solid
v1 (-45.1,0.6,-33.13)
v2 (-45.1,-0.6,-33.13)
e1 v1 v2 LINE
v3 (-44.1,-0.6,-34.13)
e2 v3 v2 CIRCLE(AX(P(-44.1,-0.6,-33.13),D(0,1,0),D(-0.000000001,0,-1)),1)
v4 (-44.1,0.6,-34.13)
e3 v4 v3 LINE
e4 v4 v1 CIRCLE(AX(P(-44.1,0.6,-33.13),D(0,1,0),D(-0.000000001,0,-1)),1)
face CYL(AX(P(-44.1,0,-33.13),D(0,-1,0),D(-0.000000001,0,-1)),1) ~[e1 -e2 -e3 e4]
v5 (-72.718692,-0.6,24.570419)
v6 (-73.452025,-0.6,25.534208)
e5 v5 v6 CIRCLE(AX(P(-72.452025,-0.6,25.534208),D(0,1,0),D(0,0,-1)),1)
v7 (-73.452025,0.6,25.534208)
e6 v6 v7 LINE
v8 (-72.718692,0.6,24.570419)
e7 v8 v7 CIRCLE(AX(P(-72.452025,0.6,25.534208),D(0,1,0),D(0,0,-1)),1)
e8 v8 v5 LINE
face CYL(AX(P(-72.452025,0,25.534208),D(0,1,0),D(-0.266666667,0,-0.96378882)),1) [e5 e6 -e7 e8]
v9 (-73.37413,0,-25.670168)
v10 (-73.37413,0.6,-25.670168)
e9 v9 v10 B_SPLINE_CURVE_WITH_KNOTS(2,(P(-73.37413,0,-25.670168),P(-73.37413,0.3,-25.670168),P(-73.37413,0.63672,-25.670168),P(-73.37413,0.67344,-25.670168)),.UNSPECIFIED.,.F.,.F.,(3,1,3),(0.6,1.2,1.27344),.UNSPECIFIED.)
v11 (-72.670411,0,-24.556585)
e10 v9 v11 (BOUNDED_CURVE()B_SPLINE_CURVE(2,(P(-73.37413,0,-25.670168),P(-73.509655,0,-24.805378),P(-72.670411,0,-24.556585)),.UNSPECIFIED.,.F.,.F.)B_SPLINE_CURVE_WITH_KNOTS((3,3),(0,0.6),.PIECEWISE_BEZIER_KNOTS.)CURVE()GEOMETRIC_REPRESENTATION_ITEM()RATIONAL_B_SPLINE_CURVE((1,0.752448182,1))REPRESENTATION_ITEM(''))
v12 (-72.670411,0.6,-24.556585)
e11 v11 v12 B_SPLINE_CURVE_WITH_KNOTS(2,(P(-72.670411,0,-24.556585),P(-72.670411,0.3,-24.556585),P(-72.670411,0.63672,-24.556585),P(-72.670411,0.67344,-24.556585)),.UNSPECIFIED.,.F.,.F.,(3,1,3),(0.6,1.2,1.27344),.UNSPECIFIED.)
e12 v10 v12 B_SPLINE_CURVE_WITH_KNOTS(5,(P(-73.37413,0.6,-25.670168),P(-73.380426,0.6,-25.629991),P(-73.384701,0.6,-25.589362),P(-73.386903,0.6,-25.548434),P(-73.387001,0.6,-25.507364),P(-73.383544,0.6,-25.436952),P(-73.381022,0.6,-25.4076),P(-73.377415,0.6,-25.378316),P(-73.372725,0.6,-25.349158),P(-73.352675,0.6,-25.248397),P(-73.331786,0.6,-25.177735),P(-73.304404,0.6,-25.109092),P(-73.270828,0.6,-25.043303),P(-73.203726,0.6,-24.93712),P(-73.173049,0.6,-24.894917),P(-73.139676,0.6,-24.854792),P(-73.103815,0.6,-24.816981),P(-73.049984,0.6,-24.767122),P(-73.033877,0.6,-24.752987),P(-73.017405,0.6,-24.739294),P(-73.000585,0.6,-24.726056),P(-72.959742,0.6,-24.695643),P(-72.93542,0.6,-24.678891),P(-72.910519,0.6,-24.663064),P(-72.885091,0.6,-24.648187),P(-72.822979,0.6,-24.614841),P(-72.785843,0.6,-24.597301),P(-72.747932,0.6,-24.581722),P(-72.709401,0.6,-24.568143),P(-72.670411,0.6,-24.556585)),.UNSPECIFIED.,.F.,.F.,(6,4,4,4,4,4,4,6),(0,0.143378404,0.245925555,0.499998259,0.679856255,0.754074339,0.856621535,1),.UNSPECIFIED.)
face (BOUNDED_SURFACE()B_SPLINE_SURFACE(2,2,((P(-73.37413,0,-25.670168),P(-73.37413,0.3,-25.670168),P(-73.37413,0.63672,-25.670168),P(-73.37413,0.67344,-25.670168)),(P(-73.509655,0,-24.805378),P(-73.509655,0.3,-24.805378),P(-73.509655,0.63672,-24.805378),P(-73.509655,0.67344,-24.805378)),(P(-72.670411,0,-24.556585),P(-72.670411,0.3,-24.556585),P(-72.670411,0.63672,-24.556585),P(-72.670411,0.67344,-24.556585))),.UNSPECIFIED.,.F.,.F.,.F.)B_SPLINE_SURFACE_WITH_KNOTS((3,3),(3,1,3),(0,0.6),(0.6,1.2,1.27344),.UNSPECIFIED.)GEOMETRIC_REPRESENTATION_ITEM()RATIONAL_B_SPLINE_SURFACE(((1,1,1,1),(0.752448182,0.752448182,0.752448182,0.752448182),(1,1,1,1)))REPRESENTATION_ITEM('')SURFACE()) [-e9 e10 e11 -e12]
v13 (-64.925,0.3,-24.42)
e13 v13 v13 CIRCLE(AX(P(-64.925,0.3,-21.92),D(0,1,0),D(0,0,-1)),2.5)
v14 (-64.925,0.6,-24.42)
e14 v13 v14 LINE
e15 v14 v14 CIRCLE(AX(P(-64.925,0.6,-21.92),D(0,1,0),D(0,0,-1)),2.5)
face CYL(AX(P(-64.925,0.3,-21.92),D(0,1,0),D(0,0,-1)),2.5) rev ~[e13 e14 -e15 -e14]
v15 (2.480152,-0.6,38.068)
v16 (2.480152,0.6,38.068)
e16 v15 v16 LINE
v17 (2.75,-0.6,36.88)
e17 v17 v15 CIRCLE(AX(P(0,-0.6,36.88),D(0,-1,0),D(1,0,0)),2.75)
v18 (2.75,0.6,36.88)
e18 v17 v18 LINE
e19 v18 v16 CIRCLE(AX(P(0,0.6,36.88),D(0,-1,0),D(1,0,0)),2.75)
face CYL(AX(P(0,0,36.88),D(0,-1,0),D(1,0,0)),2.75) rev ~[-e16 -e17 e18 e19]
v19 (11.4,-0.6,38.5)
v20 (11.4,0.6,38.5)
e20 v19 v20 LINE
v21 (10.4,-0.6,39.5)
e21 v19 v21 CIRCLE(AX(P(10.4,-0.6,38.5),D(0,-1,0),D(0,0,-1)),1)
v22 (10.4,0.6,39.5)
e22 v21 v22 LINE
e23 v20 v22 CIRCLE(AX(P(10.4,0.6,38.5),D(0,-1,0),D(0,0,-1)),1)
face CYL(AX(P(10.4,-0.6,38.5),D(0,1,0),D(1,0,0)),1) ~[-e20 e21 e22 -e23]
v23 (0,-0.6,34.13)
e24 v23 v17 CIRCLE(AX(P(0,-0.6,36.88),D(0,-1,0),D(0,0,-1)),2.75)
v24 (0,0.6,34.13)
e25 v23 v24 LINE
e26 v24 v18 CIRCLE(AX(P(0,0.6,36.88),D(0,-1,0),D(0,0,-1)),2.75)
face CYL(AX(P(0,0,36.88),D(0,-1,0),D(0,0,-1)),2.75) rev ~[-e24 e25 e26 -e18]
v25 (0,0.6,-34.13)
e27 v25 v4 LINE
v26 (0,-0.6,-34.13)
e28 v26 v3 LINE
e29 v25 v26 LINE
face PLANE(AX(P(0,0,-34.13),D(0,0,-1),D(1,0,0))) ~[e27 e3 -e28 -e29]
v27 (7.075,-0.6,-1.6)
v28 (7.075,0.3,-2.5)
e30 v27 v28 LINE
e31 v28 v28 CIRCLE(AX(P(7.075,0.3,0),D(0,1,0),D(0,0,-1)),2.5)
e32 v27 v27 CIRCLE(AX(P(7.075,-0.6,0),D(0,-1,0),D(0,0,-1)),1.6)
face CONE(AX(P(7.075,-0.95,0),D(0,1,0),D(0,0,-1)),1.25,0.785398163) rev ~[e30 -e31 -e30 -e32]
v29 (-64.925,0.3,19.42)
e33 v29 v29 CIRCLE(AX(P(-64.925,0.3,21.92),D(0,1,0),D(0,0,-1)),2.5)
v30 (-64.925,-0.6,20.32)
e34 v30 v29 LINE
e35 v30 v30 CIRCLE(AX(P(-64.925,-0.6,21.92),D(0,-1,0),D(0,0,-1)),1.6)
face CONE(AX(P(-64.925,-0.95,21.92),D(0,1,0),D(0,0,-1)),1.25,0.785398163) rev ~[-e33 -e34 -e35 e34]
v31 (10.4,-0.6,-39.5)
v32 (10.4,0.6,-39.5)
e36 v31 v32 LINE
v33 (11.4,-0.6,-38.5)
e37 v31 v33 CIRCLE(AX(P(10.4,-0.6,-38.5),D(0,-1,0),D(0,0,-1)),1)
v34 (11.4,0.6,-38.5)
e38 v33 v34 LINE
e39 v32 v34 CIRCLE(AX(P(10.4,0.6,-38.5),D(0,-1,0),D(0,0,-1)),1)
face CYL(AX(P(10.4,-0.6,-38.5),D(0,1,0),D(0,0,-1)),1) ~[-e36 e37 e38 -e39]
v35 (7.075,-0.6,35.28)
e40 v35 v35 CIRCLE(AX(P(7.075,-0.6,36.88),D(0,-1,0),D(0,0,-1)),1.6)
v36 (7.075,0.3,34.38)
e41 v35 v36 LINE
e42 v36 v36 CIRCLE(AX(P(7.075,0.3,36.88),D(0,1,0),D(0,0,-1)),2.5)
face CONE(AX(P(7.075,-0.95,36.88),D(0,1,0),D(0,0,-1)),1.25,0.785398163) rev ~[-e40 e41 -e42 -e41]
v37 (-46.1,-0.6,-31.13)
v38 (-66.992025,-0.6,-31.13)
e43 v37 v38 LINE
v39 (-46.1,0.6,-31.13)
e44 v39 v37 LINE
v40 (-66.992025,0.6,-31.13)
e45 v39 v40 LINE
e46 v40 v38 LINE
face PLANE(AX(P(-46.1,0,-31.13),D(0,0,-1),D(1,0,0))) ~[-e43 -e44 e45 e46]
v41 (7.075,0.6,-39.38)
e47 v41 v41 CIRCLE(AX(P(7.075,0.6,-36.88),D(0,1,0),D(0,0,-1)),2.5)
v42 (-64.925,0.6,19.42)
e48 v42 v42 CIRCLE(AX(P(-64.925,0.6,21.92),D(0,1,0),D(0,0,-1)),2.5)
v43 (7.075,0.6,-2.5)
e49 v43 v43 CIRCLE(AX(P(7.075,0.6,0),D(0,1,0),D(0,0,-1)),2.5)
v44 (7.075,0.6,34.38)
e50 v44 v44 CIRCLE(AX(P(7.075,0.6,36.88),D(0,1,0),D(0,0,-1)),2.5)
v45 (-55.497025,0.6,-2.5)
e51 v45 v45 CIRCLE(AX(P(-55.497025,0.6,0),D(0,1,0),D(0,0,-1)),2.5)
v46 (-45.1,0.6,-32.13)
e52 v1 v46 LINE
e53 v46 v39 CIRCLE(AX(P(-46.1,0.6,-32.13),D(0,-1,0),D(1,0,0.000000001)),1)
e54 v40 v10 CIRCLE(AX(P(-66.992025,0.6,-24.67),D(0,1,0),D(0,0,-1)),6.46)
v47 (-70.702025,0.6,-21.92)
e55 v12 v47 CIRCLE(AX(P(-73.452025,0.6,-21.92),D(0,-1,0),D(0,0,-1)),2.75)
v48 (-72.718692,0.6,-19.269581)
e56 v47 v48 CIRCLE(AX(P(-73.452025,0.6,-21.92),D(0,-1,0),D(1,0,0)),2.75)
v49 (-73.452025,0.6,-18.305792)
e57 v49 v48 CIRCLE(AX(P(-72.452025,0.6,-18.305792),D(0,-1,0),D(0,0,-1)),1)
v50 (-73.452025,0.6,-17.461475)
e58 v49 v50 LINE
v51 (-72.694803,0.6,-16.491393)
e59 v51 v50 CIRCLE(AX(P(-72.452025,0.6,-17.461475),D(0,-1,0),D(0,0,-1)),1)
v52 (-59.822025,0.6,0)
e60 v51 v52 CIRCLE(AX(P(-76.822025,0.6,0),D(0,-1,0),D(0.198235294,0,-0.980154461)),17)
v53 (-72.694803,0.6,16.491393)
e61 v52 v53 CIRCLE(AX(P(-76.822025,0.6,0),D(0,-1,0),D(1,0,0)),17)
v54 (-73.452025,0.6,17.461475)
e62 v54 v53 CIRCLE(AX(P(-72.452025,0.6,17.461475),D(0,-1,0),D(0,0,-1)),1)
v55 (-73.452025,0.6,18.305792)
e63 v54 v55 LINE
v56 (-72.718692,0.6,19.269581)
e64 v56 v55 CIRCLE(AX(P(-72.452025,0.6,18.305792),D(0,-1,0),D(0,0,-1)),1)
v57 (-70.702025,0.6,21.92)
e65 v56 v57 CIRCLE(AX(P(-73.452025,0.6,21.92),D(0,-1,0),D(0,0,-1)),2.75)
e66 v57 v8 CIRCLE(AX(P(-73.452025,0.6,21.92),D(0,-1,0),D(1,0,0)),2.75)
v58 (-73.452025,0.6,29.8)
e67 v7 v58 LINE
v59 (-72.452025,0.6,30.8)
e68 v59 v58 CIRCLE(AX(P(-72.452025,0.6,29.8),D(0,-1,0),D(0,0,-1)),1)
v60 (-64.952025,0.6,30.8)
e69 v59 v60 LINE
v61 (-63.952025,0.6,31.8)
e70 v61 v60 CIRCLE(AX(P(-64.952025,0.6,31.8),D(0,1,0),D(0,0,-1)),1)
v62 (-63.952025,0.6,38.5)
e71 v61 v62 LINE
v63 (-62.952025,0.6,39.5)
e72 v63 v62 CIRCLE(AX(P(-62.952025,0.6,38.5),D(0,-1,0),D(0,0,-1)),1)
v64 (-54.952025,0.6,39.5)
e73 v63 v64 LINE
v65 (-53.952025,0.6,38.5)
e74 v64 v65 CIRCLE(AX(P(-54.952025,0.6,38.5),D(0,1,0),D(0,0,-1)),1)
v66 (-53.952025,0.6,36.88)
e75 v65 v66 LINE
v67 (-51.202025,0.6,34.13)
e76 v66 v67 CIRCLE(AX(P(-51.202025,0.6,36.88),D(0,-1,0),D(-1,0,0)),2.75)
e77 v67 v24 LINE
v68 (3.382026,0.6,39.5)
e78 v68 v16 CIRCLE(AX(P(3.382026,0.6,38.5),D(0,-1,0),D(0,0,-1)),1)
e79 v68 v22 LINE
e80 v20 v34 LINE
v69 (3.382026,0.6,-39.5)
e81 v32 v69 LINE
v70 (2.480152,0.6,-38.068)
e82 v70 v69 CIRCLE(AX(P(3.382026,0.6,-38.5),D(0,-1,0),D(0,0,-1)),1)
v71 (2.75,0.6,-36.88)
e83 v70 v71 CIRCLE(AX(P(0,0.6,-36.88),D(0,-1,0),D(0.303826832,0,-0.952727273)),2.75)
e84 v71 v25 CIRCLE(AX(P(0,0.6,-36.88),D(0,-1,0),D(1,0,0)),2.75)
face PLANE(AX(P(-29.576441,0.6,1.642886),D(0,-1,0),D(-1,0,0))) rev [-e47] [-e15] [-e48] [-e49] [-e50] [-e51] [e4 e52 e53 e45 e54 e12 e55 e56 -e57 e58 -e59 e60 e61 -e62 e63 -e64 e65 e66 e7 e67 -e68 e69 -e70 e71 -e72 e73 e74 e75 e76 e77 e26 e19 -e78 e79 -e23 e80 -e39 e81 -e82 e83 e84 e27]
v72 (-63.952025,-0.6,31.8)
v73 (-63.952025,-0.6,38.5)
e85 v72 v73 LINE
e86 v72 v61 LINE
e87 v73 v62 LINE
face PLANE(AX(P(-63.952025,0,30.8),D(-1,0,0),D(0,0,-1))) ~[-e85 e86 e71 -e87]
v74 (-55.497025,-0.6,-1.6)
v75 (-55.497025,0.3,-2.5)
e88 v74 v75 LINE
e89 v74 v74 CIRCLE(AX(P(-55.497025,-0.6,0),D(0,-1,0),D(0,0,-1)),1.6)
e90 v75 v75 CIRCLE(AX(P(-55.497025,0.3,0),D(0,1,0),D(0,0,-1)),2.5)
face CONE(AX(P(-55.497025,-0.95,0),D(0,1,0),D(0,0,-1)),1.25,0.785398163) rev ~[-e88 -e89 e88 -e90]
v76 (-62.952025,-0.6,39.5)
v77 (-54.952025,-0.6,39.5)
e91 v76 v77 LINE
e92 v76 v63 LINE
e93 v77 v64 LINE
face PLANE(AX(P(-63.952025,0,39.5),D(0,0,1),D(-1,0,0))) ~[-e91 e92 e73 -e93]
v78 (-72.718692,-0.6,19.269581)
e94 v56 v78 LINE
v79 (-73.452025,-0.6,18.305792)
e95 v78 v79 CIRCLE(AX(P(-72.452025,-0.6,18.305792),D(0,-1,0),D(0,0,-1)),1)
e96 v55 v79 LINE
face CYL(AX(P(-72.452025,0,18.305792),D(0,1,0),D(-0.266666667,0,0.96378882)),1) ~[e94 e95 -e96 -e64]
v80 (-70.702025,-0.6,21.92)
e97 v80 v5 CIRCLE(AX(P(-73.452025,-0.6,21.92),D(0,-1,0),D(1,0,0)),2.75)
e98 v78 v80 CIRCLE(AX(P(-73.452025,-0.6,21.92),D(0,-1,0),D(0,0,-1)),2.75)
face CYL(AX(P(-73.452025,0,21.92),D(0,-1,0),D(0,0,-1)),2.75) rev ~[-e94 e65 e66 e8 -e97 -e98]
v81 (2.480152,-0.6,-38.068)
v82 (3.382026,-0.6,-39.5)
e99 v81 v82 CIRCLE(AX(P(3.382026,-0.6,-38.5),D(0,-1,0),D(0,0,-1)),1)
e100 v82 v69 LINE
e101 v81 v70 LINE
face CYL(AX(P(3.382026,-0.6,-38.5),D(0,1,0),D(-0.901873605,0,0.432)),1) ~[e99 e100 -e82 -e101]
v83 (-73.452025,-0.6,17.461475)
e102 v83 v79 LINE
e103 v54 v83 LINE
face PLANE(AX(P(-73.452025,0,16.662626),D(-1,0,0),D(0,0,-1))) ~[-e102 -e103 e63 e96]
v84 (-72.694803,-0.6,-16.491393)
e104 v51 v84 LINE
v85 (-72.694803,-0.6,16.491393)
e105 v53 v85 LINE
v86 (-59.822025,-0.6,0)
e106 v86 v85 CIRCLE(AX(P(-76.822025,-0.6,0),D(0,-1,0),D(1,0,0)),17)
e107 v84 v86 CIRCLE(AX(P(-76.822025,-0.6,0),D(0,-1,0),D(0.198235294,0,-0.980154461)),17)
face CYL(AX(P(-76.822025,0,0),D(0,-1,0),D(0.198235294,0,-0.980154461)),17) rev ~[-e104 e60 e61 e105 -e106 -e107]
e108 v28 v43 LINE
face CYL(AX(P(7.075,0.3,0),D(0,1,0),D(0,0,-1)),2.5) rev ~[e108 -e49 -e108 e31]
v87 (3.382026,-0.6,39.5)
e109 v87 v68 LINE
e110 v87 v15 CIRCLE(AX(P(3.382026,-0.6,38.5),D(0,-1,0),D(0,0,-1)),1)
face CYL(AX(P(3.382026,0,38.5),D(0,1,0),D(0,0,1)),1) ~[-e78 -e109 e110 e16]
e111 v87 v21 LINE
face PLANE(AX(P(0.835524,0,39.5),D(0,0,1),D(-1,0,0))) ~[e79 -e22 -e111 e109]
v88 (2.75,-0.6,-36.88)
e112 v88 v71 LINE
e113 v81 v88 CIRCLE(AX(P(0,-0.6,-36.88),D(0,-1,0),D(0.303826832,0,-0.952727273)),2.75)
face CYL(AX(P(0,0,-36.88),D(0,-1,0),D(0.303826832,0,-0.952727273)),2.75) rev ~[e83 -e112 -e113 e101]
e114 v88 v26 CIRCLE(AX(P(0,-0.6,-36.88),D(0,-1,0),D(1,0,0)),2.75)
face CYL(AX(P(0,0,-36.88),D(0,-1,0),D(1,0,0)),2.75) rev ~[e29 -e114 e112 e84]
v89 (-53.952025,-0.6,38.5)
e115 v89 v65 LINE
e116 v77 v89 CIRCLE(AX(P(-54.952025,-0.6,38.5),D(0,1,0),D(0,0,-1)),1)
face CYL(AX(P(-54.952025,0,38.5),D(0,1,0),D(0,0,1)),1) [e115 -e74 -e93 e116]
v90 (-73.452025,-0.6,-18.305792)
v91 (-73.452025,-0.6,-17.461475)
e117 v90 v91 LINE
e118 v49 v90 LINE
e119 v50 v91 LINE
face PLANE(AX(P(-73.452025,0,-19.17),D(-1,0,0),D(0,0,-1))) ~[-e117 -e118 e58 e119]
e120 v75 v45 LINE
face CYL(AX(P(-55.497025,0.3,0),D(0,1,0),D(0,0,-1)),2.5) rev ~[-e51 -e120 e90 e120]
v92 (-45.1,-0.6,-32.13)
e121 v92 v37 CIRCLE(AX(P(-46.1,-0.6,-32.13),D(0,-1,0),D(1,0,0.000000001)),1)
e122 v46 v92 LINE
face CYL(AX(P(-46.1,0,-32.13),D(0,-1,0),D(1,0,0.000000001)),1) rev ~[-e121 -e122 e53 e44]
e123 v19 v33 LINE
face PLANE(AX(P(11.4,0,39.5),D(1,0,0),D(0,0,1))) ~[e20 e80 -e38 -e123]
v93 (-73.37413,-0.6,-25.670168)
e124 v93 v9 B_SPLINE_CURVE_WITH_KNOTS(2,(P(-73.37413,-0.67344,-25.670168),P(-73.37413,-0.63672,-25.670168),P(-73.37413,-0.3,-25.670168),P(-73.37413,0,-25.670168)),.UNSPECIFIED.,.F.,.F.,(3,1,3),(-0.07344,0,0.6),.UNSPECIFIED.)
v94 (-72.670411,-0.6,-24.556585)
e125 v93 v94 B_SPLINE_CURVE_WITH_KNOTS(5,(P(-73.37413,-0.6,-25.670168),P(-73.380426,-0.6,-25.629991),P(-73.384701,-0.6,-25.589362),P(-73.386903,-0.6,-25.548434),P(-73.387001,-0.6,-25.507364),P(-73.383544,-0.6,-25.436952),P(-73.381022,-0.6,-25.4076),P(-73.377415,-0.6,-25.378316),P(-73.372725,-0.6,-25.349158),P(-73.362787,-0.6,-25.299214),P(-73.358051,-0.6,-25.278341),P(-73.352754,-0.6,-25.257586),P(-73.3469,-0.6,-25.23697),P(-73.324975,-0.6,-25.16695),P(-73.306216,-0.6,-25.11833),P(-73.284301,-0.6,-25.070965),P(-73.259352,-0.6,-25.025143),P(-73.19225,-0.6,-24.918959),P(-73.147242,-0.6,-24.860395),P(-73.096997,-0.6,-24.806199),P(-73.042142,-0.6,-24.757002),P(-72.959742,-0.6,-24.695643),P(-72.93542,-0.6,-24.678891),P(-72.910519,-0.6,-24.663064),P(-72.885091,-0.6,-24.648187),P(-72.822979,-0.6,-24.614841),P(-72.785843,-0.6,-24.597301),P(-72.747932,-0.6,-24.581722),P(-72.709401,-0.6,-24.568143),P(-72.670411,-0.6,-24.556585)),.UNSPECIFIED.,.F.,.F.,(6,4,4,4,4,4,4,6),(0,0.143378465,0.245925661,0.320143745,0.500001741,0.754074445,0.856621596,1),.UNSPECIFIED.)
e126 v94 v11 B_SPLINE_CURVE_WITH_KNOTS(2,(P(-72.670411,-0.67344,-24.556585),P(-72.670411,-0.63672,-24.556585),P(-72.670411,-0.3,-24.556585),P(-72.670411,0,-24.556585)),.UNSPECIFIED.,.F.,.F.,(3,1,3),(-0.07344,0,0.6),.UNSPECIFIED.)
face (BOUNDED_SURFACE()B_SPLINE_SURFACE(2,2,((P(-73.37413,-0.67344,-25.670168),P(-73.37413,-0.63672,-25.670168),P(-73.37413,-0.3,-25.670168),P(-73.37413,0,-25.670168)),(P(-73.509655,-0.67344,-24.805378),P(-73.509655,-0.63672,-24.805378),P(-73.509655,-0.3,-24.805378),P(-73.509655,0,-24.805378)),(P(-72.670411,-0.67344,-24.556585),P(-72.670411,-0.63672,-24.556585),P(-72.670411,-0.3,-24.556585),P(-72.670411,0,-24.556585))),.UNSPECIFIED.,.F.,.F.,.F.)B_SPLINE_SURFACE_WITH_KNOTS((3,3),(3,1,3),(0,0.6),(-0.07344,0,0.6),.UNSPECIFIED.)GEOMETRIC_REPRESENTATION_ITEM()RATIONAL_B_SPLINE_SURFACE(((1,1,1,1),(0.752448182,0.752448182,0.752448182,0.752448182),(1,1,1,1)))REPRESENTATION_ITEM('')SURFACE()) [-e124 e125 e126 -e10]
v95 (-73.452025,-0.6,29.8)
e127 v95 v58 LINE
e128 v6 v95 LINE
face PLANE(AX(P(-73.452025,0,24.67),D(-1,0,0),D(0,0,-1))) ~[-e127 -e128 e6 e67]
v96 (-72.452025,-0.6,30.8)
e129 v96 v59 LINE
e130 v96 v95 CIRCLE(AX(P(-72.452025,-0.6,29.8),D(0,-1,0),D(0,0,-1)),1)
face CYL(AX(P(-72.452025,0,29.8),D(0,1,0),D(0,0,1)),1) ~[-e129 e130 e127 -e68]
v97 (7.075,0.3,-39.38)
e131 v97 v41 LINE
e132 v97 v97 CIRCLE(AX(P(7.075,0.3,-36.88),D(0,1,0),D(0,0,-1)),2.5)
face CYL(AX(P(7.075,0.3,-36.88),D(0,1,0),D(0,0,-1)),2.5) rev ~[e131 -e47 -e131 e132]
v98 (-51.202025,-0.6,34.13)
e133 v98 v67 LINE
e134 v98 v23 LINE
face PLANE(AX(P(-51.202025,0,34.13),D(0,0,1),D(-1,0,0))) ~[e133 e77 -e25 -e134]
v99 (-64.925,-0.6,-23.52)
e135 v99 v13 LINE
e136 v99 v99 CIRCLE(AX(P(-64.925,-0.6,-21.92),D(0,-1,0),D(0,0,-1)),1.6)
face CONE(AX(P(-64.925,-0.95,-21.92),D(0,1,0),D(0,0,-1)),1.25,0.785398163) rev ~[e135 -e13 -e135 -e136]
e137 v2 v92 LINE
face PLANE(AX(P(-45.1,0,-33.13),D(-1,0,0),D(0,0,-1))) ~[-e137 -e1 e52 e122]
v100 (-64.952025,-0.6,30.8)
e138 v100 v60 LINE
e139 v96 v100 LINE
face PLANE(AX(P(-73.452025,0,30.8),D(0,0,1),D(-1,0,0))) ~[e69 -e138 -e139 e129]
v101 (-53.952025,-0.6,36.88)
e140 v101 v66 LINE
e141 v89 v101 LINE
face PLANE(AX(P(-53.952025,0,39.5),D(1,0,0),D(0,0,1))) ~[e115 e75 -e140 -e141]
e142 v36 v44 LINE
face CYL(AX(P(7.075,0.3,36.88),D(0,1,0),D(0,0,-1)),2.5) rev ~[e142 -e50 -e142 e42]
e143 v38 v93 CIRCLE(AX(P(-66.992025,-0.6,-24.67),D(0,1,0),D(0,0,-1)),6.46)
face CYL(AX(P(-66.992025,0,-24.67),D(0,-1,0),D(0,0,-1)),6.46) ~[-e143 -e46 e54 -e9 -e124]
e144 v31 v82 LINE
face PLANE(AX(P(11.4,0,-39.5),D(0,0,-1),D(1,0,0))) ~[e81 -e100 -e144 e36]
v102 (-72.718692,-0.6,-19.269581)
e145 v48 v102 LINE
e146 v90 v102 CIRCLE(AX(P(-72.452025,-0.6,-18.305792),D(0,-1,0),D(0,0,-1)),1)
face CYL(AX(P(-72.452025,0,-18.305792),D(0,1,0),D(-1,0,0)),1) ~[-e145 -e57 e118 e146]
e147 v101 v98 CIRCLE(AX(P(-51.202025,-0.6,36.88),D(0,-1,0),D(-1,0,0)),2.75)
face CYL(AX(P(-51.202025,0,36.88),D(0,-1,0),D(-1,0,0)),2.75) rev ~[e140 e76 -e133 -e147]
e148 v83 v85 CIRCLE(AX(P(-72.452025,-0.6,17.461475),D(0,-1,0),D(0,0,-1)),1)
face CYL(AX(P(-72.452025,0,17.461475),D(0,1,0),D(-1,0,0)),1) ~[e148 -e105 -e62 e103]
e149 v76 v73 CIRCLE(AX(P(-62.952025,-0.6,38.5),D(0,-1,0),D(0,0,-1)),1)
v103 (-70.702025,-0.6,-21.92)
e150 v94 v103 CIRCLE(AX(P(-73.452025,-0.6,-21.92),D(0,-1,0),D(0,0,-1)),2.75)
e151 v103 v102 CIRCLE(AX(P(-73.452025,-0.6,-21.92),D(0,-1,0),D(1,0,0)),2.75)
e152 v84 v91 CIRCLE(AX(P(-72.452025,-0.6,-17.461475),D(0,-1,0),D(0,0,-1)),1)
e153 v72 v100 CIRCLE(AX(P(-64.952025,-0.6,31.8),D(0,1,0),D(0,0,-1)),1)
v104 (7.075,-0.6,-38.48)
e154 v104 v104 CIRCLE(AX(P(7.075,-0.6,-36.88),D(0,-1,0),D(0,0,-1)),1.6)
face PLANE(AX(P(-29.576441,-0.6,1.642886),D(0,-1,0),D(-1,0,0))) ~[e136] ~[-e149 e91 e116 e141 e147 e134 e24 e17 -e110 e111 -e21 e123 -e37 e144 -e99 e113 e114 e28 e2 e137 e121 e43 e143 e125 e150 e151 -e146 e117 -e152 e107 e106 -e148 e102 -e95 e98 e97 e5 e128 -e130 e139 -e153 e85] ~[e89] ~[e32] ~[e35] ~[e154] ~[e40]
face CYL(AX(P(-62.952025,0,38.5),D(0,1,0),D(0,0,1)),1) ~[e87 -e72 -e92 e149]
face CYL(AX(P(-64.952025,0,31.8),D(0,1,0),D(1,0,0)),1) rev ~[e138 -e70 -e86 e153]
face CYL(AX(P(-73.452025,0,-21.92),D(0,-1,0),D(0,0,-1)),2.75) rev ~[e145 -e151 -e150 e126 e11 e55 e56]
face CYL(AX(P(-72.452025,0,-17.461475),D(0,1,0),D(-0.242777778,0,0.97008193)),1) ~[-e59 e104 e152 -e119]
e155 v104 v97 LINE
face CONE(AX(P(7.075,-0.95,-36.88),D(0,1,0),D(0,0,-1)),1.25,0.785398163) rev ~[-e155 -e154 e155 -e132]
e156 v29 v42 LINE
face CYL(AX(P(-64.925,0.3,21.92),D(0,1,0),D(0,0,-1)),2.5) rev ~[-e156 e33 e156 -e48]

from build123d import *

# Parameters (mm, degrees)
SKETCH1_R                    = 1
BASE_SHAPE_DEPTH             = 0.6
FILLETS_R                    = 1
M2_5_COUNTERSUNKS_AT_2_COUNT = 2
M2_5_COUNTERSUNKS_AT_2_PITCH = 73.76
M2_5_COUNTERSUNKS_AT_3_COUNT = 2
M2_5_COUNTERSUNKS_AT_3_PITCH = 73.537756289
M2_5_COUNTERSUNKS_AT_4_COUNT = 2
M2_5_COUNTERSUNKS_AT_4_PITCH = 92.959345953
M2_5_COUNTERSUNKS_AT_5_COUNT = 2
M2_5_COUNTERSUNKS_AT_5_PITCH = 36.88
M2_5_COUNTERSUNKS_AT_6_COUNT = 2
M2_5_COUNTERSUNKS_AT_6_PITCH = 72.631898864


with BuildPart() as part:
    # Sketch1 → Base shape (new body, symmetric)
    with BuildSketch(Plane(origin=(0, 0, 0), x_dir=(1, 0, 0), z_dir=(0, 1, 0))):
        with BuildLine():
            ThreePointArc((2.75, 36.88), (1.944543648, 34.935456352), (0, 34.13))
            Line((0, 34.13), (-44.1, 34.13))
            ThreePointArc((-44.1, 34.13), (-44.807106781, 33.837106781), (-45.1, 33.13))
            Line((-45.1, 33.13), (-45.1, 32.13))
            ThreePointArc((-45.1, 32.13), (-45.392893219, 31.422893219), (-46.1, 31.13))
            Line((-46.1, 31.13), (-66.992025159, 31.13))
            ThreePointArc((-66.992025159, 31.13), (-71.559934966, 29.237909806), (-73.452025159, 24.67))
            ThreePointArc((-73.452025159, 24.67), (-71.507481511, 23.864543648), (-70.702025159, 21.92))
            ThreePointArc((-70.702025159, 21.92), (-71.507481511, 19.975456352), (-73.452025159, 19.17))
            Line((-73.452025159, 19.17), (-73.452025159, 16.662625843))
            ThreePointArc((-73.452025159, 16.662625843), (-63.663567803, 10.763596053), (-59.822025159, 0))
            ThreePointArc((-59.822025159, 0), (-63.663567803, -10.763596053), (-73.452025159, -16.662625843))
            Line((-73.452025159, -16.662625843), (-73.452025159, -19.17))
            ThreePointArc((-73.452025159, -19.17), (-71.507481511, -19.975456352), (-70.702025159, -21.92))
            ThreePointArc((-70.702025159, -21.92), (-71.507481511, -23.864543648), (-73.452025159, -24.67))
            Line((-73.452025159, -24.67), (-73.452025159, -30.8))
            Line((-73.452025159, -30.8), (-63.952025159, -30.8))
            Line((-63.952025159, -30.8), (-63.952025159, -34.13))
            Line((-63.952025159, -34.13), (-63.952025159, -39.5))
            Line((-63.952025159, -39.5), (-53.952025159, -39.5))
            Line((-53.952025159, -39.5), (-53.952025159, -36.88))
            ThreePointArc((-53.952025159, -36.88), (-53.146568808, -34.935456352), (-51.202025159, -34.13))
            Line((-51.202025159, -34.13), (0, -34.13))
            ThreePointArc((0, -34.13), (1.944543648, -34.935456352), (2.75, -36.88))
            ThreePointArc((2.75, -36.88), (2.220381771, -38.502468734), (0.835523788, -39.5))
            Line((0.835523788, -39.5), (11.4, -39.5))
            Line((11.4, -39.5), (11.4, 39.5))
            Line((11.4, 39.5), (0.835523788, 39.5))
            ThreePointArc((0.835523788, 39.5), (2.220381771, 38.502468734), (2.75, 36.88))
        make_face()
        with Locations((-64.925, -21.92)):
            Circle(SKETCH1_R, mode=Mode.SUBTRACT)
        with Locations((7.075, -36.88)):
            Circle(SKETCH1_R, mode=Mode.SUBTRACT)
        with Locations((-55.497025159, 0)):
            Circle(SKETCH1_R, mode=Mode.SUBTRACT)
        with Locations((-64.925, 21.92)):
            Circle(SKETCH1_R, mode=Mode.SUBTRACT)
        with Locations((7.075, 0)):
            Circle(SKETCH1_R, mode=Mode.SUBTRACT)
        with Locations((7.075, 36.88)):
            Circle(SKETCH1_R, mode=Mode.SUBTRACT)
    extrude(amount=BASE_SHAPE_DEPTH, both=True)

    # Fillets
    fillets_edges = [part.edges().sort_by_distance(p)[0] for p in [
        (0.835523788, -0.3, -39.5),
        (11.4, -0.3, -39.5),
        (11.4, -0.3, 39.5),
        (0.835523788, -0.3, 39.5),
        (-53.952025159, -0.3, 39.5),
        (-63.952025159, -0.3, 39.5),
        (-63.952025159, -0.3, 30.8),
        (-73.452025159, -0.3, 30.8),
        (-73.452025159, -0.3, 24.67),
        (-73.452025159, -0.3, 19.17),
        (-73.452025159, -0.3, 16.662625843),
        (-73.452025159, -0.3, -16.662625843),
        (-73.452025159, -0.3, -19.17),
        (-73.452025159, -0.3, -24.67),
    ]]
    fillet(fillets_edges, radius=FILLETS_R)

    # Sketch3 → M2.5 countersunks (revolve, cut)
    with BuildSketch(Plane(origin=(7.075, -0.6, -36.88), x_dir=(0, 0, -1), z_dir=(1, 0, 0))):
        Polygon((0, 0), (0, 1.2), (1.25, 1.2), (1.25, 1.55), (2.5, 0.3), (2.5, 0), align=None)
    m2_5_countersunks = revolve(axis=Axis((7.075, -6.95, -36.88), (0, 1, 0)), mode=Mode.SUBTRACT)

    # M2.5 countersunks at 2: M2.5 countersunks ×2
    with Locations(*[(0, 0, i * M2_5_COUNTERSUNKS_AT_2_PITCH) for i in range(1, M2_5_COUNTERSUNKS_AT_2_COUNT)]):
        add(m2_5_countersunks, mode=Mode.SUBTRACT)

    # M2.5 countersunks at 3: M2.5 countersunks ×2
    with Locations(*[Vector(-0.979088888, 0, 0.203432913) * (i * M2_5_COUNTERSUNKS_AT_3_PITCH) for i in range(1, M2_5_COUNTERSUNKS_AT_3_COUNT)]):
        add(m2_5_countersunks, mode=Mode.SUBTRACT)

    # M2.5 countersunks at 4: M2.5 countersunks ×2
    with Locations(*[Vector(-0.774532128, 0, 0.632534571) * (i * M2_5_COUNTERSUNKS_AT_4_PITCH) for i in range(1, M2_5_COUNTERSUNKS_AT_4_COUNT)]):
        add(m2_5_countersunks, mode=Mode.SUBTRACT)

    # M2.5 countersunks at 5: M2.5 countersunks ×2
    with Locations(*[(0, 0, i * M2_5_COUNTERSUNKS_AT_5_PITCH) for i in range(1, M2_5_COUNTERSUNKS_AT_5_COUNT)]):
        add(m2_5_countersunks, mode=Mode.SUBTRACT)

    # M2.5 countersunks at 6: M2.5 countersunks ×2
    with Locations(*[Vector(-0.861495103, 0, 0.507765879) * (i * M2_5_COUNTERSUNKS_AT_6_PITCH) for i in range(1, M2_5_COUNTERSUNKS_AT_6_COUNT)]):
        add(m2_5_countersunks, mode=Mode.SUBTRACT)


with BuildPart() as body_2:
    # Mirror1: mirrored copy
    add(part.part.mirror(Plane.ZX))


solid = body_2.part
